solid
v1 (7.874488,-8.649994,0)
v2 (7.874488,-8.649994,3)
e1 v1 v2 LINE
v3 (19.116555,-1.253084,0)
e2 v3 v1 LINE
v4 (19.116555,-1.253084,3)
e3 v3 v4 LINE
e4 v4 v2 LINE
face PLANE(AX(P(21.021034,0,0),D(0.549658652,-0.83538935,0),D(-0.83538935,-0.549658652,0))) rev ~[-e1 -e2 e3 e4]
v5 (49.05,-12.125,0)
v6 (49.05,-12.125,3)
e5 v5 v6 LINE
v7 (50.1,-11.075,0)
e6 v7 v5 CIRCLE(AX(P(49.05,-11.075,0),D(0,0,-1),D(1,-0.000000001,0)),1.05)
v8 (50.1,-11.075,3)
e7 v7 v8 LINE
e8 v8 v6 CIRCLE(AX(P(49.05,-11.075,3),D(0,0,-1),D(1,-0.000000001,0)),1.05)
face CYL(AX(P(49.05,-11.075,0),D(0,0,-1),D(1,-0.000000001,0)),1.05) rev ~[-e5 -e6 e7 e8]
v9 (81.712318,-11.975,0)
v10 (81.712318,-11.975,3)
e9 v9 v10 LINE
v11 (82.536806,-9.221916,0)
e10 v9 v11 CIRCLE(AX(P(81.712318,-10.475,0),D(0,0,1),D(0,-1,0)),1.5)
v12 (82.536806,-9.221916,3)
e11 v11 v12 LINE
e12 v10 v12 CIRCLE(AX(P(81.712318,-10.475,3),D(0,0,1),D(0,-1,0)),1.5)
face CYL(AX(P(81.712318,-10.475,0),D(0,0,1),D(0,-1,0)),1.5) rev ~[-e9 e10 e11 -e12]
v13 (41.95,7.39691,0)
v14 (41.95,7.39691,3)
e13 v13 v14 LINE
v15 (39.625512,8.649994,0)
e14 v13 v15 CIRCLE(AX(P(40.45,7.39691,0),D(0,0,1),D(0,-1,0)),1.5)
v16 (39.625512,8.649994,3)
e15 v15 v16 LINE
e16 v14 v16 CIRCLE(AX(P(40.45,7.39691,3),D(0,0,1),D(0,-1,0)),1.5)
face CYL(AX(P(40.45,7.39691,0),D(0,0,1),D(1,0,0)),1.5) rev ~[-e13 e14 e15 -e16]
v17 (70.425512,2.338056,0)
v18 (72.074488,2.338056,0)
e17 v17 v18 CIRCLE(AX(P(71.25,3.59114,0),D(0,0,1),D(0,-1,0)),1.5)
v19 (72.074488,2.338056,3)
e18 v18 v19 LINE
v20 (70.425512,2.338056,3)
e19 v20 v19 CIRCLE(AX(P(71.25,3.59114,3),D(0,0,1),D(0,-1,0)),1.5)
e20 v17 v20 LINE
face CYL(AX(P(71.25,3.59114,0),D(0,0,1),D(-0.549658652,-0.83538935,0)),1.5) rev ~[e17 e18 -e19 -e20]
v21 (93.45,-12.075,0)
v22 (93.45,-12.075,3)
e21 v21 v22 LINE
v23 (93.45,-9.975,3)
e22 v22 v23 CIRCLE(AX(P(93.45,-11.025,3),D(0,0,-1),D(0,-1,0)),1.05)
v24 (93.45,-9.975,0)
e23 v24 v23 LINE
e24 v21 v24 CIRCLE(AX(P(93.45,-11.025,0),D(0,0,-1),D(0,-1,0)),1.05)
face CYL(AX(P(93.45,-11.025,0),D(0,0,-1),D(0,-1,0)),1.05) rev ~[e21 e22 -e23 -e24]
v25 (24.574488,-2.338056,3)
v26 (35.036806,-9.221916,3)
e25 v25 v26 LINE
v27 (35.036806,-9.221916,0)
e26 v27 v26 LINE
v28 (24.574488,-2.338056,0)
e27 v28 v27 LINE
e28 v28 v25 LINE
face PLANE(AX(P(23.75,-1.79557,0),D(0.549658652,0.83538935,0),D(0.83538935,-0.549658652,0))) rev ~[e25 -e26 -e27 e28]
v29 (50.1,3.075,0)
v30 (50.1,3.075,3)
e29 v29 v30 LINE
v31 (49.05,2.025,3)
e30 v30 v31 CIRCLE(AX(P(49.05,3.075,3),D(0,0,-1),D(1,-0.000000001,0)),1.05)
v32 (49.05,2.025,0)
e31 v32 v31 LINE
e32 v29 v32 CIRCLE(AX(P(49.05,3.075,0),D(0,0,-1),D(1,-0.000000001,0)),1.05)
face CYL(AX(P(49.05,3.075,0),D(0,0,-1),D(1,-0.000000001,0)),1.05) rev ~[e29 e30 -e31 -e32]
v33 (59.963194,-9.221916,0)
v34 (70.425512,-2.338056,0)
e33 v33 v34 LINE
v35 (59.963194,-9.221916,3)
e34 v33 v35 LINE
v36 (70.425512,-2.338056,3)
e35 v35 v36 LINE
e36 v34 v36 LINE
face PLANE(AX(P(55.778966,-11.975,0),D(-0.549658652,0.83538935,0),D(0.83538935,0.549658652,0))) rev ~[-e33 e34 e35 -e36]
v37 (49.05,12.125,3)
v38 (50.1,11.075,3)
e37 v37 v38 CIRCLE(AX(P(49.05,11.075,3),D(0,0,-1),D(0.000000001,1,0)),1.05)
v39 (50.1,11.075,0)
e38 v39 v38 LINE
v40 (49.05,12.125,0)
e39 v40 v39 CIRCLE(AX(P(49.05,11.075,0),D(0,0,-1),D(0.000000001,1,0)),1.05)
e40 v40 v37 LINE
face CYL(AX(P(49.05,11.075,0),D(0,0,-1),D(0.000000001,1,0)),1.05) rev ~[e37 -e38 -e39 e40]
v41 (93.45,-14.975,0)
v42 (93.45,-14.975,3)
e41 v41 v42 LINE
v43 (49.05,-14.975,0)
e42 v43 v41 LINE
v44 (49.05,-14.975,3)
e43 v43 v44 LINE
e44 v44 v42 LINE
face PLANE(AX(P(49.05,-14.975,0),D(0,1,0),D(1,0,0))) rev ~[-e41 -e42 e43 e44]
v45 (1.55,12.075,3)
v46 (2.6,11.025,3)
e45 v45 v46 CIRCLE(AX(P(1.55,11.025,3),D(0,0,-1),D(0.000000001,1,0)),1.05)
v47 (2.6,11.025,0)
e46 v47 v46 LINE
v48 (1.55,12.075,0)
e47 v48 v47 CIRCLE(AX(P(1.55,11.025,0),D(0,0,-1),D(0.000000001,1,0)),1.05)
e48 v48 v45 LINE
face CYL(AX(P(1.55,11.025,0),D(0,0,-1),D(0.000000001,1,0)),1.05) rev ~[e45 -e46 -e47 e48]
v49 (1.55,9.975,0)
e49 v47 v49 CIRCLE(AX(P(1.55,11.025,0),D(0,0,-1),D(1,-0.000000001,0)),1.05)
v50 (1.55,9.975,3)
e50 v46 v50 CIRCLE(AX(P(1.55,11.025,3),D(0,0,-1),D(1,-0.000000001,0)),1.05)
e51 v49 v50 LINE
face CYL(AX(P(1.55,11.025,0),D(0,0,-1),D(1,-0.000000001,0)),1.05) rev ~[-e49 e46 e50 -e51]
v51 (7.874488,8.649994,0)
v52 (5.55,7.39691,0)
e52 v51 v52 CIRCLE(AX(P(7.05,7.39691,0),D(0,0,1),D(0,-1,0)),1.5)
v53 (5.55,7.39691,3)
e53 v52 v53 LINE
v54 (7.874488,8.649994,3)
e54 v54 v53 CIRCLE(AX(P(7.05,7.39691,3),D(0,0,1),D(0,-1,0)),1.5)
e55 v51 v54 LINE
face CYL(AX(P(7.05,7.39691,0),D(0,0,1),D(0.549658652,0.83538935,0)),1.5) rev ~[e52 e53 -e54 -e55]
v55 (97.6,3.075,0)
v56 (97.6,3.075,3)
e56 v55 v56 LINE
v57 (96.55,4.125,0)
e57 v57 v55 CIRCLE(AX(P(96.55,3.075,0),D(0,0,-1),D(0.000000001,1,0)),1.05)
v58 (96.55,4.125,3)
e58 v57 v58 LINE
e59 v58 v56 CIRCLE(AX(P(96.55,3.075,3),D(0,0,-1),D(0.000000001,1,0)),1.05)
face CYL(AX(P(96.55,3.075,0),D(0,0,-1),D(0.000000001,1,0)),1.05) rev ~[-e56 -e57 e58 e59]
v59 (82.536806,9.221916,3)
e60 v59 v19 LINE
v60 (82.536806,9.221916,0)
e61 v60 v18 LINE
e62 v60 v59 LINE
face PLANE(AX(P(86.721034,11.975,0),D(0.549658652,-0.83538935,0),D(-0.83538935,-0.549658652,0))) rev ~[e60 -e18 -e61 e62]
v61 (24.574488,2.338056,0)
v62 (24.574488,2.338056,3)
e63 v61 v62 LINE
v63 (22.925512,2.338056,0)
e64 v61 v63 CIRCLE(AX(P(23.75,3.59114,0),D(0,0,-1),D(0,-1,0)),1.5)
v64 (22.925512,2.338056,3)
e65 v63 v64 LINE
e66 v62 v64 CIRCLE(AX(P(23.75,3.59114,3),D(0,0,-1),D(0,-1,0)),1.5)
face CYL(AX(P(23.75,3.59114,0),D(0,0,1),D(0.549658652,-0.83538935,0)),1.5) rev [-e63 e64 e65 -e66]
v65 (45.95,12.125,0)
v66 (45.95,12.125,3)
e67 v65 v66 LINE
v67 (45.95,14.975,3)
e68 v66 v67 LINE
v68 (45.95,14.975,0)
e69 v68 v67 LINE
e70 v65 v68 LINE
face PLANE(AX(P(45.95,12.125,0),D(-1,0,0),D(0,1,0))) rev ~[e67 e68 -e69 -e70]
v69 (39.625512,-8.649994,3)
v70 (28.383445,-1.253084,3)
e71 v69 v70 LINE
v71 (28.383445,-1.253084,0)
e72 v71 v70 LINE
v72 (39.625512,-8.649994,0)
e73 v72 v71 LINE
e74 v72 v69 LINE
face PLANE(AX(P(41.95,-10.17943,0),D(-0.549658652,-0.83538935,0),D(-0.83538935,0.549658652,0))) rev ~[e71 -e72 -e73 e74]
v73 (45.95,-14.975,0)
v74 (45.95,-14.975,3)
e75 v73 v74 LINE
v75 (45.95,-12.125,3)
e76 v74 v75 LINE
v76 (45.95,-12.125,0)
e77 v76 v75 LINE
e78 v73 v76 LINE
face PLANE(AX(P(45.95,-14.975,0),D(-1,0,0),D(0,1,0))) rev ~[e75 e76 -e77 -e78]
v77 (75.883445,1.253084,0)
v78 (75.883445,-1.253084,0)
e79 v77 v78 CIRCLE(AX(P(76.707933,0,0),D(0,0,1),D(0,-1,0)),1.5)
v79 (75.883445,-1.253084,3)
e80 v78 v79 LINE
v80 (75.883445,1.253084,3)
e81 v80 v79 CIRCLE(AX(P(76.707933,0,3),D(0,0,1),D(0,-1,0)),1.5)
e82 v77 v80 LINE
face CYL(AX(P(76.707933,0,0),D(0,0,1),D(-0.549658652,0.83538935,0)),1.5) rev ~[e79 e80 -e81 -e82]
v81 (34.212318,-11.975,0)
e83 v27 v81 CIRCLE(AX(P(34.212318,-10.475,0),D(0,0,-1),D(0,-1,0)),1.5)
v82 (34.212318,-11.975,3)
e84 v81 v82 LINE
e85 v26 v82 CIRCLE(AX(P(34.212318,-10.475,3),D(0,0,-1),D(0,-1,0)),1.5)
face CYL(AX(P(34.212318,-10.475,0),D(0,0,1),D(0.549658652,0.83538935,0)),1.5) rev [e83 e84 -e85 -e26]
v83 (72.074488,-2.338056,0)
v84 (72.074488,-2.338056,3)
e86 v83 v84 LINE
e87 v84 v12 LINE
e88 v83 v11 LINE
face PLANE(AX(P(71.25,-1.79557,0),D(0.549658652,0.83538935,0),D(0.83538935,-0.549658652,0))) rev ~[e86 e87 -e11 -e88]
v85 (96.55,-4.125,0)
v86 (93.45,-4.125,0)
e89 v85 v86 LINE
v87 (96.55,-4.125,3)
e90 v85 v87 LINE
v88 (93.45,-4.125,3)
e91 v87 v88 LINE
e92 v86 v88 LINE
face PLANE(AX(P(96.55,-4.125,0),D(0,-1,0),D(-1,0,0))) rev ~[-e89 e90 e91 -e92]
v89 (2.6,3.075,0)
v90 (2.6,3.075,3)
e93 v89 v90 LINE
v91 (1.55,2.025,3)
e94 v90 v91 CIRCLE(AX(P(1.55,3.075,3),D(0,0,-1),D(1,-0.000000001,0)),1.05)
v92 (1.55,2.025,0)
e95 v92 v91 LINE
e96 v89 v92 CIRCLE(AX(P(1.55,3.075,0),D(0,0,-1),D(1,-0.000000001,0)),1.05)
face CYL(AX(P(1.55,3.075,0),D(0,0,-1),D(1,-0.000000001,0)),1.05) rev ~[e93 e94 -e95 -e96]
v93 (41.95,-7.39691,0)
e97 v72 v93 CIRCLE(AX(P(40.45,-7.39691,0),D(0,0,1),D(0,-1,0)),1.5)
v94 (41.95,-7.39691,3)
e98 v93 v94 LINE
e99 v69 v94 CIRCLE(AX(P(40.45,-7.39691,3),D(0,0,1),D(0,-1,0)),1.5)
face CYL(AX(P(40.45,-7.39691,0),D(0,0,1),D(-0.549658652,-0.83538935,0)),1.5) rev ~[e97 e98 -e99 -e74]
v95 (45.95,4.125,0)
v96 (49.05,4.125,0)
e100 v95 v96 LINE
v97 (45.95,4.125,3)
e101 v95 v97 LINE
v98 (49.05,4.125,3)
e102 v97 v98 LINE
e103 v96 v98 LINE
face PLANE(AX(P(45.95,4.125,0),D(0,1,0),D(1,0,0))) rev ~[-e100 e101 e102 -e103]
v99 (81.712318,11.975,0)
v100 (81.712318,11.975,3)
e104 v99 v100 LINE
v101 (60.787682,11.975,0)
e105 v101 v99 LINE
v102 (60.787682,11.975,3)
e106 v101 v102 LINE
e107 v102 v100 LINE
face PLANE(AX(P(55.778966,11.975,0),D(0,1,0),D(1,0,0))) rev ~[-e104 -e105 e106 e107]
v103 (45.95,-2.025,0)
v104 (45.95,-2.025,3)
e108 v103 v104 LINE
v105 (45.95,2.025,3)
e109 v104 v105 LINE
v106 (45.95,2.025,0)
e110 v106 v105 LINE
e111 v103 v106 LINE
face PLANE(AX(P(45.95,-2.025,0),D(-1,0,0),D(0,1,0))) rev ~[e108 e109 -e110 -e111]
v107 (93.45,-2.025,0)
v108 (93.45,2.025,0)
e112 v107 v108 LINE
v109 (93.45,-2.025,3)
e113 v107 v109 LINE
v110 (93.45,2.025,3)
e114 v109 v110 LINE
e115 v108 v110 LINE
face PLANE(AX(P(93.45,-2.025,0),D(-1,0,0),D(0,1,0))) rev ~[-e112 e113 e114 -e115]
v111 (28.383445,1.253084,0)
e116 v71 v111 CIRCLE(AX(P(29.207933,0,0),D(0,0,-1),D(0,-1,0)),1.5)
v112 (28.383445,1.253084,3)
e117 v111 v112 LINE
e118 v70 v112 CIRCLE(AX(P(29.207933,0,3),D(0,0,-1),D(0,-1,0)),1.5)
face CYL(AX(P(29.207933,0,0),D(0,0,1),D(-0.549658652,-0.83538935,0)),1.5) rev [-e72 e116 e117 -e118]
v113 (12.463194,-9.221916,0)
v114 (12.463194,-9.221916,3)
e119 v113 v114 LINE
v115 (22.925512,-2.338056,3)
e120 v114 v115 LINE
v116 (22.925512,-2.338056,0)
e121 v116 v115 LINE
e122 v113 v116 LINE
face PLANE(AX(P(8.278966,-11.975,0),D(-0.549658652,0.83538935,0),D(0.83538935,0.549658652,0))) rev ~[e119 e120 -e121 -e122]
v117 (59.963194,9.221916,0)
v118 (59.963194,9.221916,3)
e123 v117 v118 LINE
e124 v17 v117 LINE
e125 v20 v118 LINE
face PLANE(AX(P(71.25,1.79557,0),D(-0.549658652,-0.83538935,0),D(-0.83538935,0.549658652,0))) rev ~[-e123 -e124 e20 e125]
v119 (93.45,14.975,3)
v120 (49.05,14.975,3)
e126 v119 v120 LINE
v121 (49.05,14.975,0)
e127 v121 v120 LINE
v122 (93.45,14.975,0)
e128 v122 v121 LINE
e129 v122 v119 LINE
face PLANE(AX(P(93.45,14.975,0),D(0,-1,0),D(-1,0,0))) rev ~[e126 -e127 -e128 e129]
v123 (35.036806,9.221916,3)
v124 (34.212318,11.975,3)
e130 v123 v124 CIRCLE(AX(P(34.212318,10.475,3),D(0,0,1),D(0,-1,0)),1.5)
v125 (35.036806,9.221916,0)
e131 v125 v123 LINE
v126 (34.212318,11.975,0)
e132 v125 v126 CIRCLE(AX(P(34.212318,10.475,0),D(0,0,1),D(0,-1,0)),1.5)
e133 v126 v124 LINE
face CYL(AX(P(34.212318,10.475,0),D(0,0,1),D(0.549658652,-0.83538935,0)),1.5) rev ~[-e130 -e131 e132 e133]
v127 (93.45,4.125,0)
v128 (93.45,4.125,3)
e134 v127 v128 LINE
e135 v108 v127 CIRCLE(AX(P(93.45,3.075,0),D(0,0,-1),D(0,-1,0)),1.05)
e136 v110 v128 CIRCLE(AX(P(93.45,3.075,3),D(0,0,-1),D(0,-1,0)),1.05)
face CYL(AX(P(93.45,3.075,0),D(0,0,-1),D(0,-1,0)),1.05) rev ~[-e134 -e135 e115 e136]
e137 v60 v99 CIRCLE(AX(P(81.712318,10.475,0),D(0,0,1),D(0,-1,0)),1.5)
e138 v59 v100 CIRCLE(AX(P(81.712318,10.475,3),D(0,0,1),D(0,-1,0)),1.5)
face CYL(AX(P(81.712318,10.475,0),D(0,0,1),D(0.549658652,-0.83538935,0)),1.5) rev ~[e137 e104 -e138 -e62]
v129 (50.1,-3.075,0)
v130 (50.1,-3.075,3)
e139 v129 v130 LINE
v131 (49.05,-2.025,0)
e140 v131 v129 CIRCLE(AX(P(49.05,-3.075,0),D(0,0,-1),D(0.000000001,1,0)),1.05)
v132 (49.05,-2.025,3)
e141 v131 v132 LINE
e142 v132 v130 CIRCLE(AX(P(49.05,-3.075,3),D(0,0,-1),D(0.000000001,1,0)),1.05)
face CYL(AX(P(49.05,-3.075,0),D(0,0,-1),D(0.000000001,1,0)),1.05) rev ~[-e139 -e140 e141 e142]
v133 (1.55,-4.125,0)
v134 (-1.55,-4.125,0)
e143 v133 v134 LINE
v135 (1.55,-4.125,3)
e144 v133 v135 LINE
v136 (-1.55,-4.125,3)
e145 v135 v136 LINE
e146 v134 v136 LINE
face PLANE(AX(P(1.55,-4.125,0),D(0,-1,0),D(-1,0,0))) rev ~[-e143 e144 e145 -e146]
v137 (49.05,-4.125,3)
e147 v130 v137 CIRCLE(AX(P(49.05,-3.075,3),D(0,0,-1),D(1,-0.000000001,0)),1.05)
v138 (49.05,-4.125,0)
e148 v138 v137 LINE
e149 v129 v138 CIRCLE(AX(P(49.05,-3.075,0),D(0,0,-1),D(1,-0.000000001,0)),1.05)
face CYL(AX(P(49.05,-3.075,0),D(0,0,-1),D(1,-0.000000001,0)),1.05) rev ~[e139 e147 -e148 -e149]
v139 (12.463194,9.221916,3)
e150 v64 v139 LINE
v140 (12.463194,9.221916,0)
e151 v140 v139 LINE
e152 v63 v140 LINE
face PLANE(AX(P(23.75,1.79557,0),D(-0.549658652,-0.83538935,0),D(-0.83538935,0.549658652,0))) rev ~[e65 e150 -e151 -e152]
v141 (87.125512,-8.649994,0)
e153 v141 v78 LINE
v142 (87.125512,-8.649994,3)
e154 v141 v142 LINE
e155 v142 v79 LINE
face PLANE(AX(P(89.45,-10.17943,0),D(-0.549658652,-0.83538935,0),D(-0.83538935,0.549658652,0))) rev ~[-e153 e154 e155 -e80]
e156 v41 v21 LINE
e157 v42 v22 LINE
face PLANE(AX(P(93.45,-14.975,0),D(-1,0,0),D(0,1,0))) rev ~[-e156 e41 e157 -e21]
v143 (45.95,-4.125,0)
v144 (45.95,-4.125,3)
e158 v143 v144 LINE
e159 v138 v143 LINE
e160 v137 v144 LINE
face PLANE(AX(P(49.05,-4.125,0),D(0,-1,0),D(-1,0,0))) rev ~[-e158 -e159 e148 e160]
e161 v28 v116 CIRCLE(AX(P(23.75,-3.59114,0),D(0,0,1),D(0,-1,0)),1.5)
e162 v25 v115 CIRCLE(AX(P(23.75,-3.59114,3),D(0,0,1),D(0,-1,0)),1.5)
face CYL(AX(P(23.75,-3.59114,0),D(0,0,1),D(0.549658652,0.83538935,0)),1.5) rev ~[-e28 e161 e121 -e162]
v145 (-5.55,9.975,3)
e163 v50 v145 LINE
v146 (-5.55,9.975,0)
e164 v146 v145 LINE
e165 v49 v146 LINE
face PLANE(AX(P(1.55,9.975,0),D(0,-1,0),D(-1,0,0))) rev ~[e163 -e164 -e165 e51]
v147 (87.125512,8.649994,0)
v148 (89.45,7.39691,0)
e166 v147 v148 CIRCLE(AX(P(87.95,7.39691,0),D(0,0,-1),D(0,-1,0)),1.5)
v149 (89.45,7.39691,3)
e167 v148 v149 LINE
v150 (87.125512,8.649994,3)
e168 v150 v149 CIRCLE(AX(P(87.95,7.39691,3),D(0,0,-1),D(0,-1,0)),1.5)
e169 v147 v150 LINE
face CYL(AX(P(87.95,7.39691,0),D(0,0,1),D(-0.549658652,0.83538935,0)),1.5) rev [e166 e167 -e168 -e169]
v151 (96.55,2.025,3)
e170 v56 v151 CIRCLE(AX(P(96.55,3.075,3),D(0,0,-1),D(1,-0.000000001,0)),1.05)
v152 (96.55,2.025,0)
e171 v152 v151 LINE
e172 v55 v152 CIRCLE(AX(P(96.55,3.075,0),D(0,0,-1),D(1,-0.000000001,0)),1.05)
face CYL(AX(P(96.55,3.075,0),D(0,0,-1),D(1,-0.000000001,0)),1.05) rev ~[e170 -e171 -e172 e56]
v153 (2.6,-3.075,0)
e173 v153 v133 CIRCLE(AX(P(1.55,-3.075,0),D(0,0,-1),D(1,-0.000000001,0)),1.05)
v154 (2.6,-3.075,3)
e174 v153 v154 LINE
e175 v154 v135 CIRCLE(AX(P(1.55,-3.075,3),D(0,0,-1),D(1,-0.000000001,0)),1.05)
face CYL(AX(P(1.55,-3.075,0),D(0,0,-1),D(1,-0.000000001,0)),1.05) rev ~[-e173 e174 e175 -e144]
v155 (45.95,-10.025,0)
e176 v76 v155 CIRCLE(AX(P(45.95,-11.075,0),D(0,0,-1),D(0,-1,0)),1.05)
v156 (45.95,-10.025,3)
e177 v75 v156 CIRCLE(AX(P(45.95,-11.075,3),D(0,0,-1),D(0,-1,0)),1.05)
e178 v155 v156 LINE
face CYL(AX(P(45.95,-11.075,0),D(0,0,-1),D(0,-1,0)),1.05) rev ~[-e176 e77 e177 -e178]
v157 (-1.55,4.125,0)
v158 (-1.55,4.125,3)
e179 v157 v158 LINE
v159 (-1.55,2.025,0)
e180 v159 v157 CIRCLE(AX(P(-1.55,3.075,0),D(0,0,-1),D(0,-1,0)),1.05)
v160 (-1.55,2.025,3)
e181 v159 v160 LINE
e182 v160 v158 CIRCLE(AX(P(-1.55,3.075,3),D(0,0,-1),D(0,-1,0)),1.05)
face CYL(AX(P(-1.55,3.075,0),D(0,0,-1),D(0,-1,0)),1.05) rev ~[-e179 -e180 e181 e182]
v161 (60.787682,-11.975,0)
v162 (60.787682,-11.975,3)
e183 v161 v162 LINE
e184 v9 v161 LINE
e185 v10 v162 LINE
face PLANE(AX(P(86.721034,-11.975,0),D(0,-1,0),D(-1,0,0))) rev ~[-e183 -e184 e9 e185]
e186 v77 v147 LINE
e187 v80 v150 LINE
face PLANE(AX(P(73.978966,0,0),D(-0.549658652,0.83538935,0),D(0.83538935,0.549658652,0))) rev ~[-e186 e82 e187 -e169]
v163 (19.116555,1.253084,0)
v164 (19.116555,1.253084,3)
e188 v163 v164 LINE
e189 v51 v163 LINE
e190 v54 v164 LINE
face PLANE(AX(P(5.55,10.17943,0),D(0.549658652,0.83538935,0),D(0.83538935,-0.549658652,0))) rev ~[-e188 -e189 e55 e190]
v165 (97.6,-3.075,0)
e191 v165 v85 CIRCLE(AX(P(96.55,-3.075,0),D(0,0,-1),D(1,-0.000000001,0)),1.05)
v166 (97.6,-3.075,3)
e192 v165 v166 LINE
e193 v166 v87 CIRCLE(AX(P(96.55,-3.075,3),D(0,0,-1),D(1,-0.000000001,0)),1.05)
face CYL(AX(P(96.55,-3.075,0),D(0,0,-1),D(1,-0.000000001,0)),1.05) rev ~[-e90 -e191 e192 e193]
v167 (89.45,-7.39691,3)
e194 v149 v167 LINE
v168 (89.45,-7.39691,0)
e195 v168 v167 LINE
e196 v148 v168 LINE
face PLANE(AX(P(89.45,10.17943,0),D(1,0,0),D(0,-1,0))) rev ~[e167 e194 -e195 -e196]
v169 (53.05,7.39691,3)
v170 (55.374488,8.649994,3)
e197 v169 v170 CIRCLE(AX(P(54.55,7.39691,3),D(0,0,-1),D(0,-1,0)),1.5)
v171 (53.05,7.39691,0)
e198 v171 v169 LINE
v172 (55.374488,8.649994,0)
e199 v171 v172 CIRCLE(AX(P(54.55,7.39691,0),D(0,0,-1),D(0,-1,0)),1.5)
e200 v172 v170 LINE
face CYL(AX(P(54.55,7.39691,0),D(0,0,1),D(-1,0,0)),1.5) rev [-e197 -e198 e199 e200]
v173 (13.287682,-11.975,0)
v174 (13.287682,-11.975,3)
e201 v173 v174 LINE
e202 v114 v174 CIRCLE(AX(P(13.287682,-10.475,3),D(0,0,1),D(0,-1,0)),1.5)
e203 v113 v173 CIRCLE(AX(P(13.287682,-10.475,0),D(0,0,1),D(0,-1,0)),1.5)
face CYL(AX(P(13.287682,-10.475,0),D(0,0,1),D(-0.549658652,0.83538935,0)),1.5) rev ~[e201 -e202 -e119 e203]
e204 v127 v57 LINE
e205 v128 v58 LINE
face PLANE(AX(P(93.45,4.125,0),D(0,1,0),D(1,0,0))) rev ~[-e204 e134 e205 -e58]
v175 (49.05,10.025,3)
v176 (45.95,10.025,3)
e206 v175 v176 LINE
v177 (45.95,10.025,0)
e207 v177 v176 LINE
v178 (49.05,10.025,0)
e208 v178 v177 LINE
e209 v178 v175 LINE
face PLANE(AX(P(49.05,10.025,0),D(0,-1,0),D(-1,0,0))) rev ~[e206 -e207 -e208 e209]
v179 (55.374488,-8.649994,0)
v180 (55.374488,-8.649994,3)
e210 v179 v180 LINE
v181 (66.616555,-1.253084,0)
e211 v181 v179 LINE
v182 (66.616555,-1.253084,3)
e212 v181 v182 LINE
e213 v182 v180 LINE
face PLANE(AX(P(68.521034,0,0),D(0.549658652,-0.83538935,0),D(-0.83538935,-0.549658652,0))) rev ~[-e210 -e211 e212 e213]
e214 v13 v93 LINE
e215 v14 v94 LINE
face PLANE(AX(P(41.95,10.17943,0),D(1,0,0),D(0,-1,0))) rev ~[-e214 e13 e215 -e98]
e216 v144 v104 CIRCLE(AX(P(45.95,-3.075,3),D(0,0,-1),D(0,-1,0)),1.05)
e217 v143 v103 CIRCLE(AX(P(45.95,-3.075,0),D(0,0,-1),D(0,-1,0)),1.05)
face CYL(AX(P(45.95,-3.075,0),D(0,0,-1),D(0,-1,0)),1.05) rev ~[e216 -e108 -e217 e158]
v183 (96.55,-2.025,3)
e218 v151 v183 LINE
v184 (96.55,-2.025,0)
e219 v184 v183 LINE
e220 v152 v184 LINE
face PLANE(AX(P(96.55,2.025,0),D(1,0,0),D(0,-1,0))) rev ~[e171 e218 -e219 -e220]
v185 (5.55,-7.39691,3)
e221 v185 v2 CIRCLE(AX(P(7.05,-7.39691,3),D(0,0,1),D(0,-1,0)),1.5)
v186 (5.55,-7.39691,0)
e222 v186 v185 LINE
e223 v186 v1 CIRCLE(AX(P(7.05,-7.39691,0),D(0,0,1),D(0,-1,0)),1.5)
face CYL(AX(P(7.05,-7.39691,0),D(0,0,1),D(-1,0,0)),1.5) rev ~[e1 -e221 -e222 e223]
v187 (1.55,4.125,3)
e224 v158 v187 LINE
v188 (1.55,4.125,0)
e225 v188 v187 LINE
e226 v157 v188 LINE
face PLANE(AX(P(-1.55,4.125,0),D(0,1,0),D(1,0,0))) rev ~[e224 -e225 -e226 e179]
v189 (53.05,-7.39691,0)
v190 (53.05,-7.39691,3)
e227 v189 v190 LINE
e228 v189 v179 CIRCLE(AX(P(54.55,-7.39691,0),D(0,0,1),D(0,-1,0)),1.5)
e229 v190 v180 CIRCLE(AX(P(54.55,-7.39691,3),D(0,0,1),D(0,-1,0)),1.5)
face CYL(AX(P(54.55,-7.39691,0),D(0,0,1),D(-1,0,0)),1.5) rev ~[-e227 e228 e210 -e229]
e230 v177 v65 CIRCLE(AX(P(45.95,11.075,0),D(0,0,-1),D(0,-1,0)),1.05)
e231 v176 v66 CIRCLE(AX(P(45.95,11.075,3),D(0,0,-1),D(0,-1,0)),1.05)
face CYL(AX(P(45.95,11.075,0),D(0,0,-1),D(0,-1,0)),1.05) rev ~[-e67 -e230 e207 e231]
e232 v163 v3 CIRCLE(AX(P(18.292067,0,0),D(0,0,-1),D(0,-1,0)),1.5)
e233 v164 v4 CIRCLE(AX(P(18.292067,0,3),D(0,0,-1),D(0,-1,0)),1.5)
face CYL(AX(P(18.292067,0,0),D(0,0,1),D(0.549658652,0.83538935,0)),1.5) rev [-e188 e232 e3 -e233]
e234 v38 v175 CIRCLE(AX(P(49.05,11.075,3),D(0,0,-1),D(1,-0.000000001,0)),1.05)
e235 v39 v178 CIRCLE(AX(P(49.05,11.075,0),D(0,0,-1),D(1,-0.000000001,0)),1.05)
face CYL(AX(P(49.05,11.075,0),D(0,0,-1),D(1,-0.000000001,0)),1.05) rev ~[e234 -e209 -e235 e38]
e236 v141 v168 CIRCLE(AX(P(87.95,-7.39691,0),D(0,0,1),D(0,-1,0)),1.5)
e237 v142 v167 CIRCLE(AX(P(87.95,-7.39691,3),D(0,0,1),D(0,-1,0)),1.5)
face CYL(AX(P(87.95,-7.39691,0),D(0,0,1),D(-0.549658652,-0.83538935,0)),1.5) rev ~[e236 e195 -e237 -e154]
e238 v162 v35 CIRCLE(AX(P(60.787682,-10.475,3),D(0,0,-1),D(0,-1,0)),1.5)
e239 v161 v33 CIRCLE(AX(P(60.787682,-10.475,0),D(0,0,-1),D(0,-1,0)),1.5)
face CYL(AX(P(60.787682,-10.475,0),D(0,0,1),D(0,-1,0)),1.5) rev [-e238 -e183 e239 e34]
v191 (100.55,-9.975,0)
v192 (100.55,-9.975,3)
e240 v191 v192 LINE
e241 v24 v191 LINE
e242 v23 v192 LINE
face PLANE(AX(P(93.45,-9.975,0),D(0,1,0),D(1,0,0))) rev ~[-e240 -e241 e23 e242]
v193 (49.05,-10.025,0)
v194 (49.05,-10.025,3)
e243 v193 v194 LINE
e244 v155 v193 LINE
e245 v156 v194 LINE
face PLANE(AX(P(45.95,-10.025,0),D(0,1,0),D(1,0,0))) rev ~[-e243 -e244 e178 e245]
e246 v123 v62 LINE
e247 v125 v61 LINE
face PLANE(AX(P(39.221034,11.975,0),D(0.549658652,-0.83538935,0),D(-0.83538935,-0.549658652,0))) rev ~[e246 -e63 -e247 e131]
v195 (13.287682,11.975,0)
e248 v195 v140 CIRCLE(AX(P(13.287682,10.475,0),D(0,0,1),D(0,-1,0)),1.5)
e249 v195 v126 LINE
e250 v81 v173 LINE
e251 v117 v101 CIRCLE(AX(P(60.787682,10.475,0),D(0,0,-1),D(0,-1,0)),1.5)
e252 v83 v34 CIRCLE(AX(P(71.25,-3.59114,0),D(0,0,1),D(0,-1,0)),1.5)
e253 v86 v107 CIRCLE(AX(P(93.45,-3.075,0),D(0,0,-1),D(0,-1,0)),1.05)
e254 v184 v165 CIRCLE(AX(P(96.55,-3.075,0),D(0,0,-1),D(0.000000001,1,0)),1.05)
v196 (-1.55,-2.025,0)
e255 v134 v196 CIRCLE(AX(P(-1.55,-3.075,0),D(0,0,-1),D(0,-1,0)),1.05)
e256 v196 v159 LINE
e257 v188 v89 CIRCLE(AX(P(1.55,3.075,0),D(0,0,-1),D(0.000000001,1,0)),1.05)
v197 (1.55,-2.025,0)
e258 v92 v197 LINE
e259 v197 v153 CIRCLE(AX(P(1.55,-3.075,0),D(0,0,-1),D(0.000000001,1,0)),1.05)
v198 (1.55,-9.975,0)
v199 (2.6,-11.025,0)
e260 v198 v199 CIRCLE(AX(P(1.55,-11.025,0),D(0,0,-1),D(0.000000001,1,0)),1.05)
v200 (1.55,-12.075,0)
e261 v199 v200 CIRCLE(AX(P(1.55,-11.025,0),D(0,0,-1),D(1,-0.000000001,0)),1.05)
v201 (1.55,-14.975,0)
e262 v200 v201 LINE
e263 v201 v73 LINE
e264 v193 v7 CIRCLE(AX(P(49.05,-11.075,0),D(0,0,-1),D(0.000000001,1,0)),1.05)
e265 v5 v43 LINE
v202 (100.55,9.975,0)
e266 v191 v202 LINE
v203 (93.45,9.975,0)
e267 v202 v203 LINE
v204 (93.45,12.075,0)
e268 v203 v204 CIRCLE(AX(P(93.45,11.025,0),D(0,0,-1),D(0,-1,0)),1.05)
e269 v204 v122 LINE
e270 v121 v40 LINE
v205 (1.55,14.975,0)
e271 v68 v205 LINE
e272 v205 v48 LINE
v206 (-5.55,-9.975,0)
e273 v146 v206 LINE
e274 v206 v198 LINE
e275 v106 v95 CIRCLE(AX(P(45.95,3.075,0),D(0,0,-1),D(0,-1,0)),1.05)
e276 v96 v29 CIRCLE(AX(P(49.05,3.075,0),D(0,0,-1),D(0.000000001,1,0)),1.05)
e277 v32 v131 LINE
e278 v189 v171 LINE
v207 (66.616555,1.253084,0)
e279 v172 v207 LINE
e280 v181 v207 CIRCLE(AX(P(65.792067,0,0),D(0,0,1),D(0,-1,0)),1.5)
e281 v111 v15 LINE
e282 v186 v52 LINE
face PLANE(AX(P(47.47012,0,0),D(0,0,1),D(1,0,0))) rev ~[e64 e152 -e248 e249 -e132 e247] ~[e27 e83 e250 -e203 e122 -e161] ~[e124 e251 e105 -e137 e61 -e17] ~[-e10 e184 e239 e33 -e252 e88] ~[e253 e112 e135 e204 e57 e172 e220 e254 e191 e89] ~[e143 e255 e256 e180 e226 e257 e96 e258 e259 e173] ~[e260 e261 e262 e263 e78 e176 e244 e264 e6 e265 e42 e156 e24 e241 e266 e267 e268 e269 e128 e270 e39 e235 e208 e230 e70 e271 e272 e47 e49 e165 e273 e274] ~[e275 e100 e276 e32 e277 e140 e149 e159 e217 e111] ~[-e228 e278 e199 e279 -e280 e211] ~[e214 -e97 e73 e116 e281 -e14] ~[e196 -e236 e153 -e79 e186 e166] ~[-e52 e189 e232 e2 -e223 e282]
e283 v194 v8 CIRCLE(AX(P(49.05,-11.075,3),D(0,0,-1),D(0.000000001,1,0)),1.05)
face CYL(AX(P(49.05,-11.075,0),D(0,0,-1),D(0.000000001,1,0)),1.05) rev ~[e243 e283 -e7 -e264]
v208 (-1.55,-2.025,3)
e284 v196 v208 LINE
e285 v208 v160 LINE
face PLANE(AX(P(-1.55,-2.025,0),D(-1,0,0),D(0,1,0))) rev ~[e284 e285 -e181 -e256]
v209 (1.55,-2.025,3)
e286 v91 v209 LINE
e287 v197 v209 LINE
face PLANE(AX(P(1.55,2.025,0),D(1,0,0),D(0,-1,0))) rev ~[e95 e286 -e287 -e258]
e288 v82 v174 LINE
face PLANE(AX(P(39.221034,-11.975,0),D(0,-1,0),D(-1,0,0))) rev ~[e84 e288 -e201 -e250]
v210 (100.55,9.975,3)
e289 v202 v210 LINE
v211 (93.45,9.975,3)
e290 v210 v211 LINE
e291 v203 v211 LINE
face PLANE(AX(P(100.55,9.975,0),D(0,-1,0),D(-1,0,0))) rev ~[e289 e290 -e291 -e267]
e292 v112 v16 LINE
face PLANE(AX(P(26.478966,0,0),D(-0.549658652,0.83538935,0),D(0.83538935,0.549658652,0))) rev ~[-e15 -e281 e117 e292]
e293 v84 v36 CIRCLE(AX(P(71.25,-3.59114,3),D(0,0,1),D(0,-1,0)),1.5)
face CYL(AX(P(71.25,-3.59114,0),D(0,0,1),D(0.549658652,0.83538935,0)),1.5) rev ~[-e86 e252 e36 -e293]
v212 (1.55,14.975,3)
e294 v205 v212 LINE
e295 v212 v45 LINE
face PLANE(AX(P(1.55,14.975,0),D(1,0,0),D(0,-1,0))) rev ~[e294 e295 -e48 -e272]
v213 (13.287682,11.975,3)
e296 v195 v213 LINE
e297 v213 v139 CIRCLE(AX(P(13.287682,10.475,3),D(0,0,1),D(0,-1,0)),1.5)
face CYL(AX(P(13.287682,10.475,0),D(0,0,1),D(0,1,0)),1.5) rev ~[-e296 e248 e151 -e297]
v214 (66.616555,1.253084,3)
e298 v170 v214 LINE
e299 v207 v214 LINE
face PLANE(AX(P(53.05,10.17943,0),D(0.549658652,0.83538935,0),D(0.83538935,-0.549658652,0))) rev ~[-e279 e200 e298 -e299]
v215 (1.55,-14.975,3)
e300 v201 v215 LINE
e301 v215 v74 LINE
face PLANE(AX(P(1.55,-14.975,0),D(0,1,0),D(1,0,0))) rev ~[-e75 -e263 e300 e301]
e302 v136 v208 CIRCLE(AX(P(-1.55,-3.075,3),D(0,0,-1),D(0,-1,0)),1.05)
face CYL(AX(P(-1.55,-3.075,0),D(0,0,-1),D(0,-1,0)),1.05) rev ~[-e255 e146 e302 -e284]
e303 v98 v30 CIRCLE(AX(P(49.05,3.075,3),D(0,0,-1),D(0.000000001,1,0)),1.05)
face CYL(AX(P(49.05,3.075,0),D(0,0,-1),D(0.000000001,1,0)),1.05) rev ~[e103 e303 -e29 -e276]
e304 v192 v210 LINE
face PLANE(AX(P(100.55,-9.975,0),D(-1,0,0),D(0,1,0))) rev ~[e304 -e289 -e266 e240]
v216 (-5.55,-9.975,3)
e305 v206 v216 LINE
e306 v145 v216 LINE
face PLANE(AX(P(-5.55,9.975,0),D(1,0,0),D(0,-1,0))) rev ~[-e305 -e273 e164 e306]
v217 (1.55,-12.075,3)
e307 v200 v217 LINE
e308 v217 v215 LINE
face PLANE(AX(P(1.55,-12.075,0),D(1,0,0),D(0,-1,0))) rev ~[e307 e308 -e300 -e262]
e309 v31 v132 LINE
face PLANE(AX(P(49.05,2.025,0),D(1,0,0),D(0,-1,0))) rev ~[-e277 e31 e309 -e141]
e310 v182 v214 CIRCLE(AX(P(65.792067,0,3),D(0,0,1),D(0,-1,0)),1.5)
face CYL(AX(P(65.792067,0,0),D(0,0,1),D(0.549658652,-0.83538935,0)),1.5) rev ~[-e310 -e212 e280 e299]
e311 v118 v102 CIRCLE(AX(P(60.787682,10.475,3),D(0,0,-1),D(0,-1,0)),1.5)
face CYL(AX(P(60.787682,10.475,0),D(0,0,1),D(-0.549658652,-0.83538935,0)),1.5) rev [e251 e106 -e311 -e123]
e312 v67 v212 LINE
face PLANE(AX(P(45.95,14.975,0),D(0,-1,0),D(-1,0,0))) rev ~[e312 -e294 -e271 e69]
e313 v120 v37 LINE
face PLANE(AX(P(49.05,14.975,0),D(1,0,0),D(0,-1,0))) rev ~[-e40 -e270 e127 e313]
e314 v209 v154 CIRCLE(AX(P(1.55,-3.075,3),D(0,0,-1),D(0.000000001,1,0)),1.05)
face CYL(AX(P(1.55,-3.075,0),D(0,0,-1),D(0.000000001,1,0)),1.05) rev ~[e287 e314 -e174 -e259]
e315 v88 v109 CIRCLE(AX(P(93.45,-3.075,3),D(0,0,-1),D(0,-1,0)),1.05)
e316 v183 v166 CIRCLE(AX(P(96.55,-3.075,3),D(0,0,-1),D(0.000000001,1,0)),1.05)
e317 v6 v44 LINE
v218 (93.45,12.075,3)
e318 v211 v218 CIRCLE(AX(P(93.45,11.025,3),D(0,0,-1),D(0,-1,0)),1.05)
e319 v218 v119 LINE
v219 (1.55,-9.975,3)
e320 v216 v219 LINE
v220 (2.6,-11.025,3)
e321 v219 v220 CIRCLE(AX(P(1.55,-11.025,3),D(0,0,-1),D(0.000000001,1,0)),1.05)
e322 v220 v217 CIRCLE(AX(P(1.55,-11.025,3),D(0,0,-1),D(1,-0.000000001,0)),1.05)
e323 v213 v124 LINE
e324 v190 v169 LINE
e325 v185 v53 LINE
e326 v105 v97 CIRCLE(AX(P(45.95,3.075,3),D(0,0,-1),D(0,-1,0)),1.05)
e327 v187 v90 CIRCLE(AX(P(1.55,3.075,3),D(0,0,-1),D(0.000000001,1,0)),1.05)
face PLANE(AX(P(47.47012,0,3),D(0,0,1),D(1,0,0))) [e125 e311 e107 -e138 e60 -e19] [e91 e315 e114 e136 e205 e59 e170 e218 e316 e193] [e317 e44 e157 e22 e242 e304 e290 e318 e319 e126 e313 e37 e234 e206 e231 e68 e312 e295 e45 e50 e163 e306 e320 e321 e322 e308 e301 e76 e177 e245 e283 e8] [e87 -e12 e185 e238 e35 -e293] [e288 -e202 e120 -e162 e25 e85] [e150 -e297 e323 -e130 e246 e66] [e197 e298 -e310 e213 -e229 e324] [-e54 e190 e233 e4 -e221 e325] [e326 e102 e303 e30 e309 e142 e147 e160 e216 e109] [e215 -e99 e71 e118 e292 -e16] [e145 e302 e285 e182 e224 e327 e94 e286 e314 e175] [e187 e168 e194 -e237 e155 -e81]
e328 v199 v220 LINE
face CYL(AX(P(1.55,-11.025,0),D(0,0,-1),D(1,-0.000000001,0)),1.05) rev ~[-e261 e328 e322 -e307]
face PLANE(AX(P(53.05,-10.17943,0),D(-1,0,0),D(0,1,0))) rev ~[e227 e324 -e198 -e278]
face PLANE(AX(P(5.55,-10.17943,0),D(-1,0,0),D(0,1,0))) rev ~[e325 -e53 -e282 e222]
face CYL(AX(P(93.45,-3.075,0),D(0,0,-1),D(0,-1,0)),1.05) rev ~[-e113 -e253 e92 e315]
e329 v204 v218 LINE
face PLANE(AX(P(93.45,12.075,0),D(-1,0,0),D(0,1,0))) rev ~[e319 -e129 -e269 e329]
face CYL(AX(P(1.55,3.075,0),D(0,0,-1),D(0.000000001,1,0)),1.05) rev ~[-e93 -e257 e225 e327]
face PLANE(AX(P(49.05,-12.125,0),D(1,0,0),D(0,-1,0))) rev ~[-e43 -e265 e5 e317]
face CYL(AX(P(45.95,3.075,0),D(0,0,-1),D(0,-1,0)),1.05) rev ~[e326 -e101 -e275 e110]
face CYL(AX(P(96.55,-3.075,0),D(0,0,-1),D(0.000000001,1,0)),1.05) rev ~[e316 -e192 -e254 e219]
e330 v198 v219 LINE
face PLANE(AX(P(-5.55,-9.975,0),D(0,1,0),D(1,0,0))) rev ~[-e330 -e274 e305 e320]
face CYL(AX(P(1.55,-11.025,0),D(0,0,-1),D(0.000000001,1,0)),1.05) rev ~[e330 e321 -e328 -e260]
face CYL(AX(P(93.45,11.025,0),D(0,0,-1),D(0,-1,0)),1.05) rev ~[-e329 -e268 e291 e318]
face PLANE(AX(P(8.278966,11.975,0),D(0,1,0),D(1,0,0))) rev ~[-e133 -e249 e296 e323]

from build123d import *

# Parameters (mm, degrees)
EXTRUDE_1_DEPTH = 3
FILLET_1_R      = 1.5


with BuildPart() as part:
    # 草图1 → 凸台-拉伸1 (new body)
    with BuildSketch(Plane.XY):
        with BuildLine():
            Line((100.55, -9.975), (100.55, 9.975))
            Line((100.55, 9.975), (93.45, 9.975))
            ThreePointArc((93.45, 9.975), (92.4, 11.025), (93.45, 12.075))
            Line((93.45, 12.075), (93.45, 14.975))
            Line((93.45, 14.975), (49.05, 14.975))
            Line((49.05, 14.975), (49.05, 12.125))
            ThreePointArc((49.05, 12.125), (49.79246212, 11.81746212), (50.1, 11.075))
            ThreePointArc((50.1, 11.075), (49.79246212, 10.33253788), (49.05, 10.025))
            Line((49.05, 10.025), (45.95, 10.025))
            ThreePointArc((45.95, 10.025), (44.9, 11.075), (45.95, 12.125))
            Line((45.95, 12.125), (45.95, 14.975))
            Line((45.95, 14.975), (1.55, 14.975))
            Line((1.55, 14.975), (1.55, 12.075))
            ThreePointArc((1.55, 12.075), (2.29246212, 11.76746212), (2.6, 11.025))
            ThreePointArc((2.6, 11.025), (2.29246212, 10.28253788), (1.55, 9.975))
            Line((1.55, 9.975), (-5.55, 9.975))
            Line((-5.55, 9.975), (-5.55, -9.975))
            Line((-5.55, -9.975), (1.55, -9.975))
            ThreePointArc((1.55, -9.975), (2.29246212, -10.28253788), (2.6, -11.025))
            ThreePointArc((2.6, -11.025), (2.29246212, -11.76746212), (1.55, -12.075))
            Line((1.55, -12.075), (1.55, -14.975))
            Line((1.55, -14.975), (45.95, -14.975))
            Line((45.95, -14.975), (45.95, -12.125))
            ThreePointArc((45.95, -12.125), (44.9, -11.075), (45.95, -10.025))
            Line((45.95, -10.025), (49.05, -10.025))
            ThreePointArc((49.05, -10.025), (49.79246212, -10.33253788), (50.1, -11.075))
            ThreePointArc((50.1, -11.075), (49.79246212, -11.81746212), (49.05, -12.125))
            Line((49.05, -12.125), (49.05, -14.975))
            Line((49.05, -14.975), (93.45, -14.975))
            Line((93.45, -14.975), (93.45, -12.075))
            ThreePointArc((93.45, -12.075), (92.4, -11.025), (93.45, -9.975))
            Line((93.45, -9.975), (100.55, -9.975))
        make_face()
        with BuildLine():
            ThreePointArc((2.6, -3.075), (2.29246212, -3.81746212), (1.55, -4.125))
            Line((1.55, -4.125), (-1.55, -4.125))
            ThreePointArc((-1.55, -4.125), (-2.6, -3.075), (-1.55, -2.025))
            Line((-1.55, -2.025), (-1.55, 2.025))
            ThreePointArc((-1.55, 2.025), (-2.6, 3.075), (-1.55, 4.125))
            Line((-1.55, 4.125), (1.55, 4.125))
            ThreePointArc((1.55, 4.125), (2.29246212, 3.81746212), (2.6, 3.075))
            ThreePointArc((2.6, 3.075), (2.29246212, 2.33253788), (1.55, 2.025))
            Line((1.55, 2.025), (1.55, -2.025))
            ThreePointArc((1.55, -2.025), (2.29246212, -2.33253788), (2.6, -3.075))
        make_face(mode=Mode.SUBTRACT)
        Polygon((39.221033587, -11.975), (8.278966413, -11.975), (23.75, -1.795569934), align=None, mode=Mode.SUBTRACT)
        Polygon((26.478966413, 0), (41.95, 10.179430066), (41.95, -10.179430066), align=None, mode=Mode.SUBTRACT)
        with BuildLine():
            ThreePointArc((50.1, -3.075), (49.79246212, -3.81746212), (49.05, -4.125))
            Line((49.05, -4.125), (45.95, -4.125))
            ThreePointArc((45.95, -4.125), (44.9, -3.075), (45.95, -2.025))
            Line((45.95, -2.025), (45.95, 2.025))
            ThreePointArc((45.95, 2.025), (44.9, 3.075), (45.95, 4.125))
            Line((45.95, 4.125), (49.05, 4.125))
            ThreePointArc((49.05, 4.125), (49.79246212, 3.81746212), (50.1, 3.075))
            ThreePointArc((50.1, 3.075), (49.79246212, 2.33253788), (49.05, 2.025))
            Line((49.05, 2.025), (49.05, -2.025))
            ThreePointArc((49.05, -2.025), (49.79246212, -2.33253788), (50.1, -3.075))
        make_face(mode=Mode.SUBTRACT)
        Polygon((55.778966413, -11.975), (71.25, -1.795569934), (86.721033587, -11.975), align=None, mode=Mode.SUBTRACT)
        Polygon((53.05, 10.179430066), (68.521033587, 0), (53.05, -10.179430066), align=None, mode=Mode.SUBTRACT)
        with BuildLine():
            ThreePointArc((97.6, -3.075), (97.29246212, -3.81746212), (96.55, -4.125))
            Line((96.55, -4.125), (93.45, -4.125))
            ThreePointArc((93.45, -4.125), (92.4, -3.075), (93.45, -2.025))
            Line((93.45, -2.025), (93.45, 2.025))
            ThreePointArc((93.45, 2.025), (92.4, 3.075), (93.45, 4.125))
            Line((93.45, 4.125), (96.55, 4.125))
            ThreePointArc((96.55, 4.125), (97.29246212, 3.81746212), (97.6, 3.075))
            ThreePointArc((97.6, 3.075), (97.29246212, 2.33253788), (96.55, 2.025))
            Line((96.55, 2.025), (96.55, -2.025))
            ThreePointArc((96.55, -2.025), (97.29246212, -2.33253788), (97.6, -3.075))
        make_face(mode=Mode.SUBTRACT)
        Polygon((21.021033587, 0), (5.55, -10.179430066), (5.55, 10.179430066), align=None, mode=Mode.SUBTRACT)
        Polygon((23.75, 1.795569934), (8.278966413, 11.975), (39.221033587, 11.975), align=None, mode=Mode.SUBTRACT)
        Polygon((55.778966413, 11.975), (86.721033587, 11.975), (71.25, 1.795569934), align=None, mode=Mode.SUBTRACT)
        Polygon((89.45, 10.179430066), (89.45, -10.179430066), (73.978966413, 0), align=None, mode=Mode.SUBTRACT)
    extrude(amount=EXTRUDE_1_DEPTH)

    # 圆角1
    fillet_1_edges = [part.edges().sort_by_distance(p)[0] for p in [
        (55.778966413, 11.975, 1.5),
        (71.25, 1.795569934, 1.5),
        (86.721033587, 11.975, 1.5),
        (8.278966413, -11.975, 1.5),
        (39.221033587, -11.975, 1.5),
        (23.75, -1.795569934, 1.5),
        (41.95, -10.179430066, 1.5),
        (41.95, 10.179430066, 1.5),
        (26.478966413, 0, 1.5),
        (21.021033587, 0, 1.5),
        (5.55, 10.179430066, 1.5),
        (5.55, -10.179430066, 1.5),
        (39.221033587, 11.975, 1.5),
        (8.278966413, 11.975, 1.5),
        (23.75, 1.795569934, 1.5),
        (53.05, -10.179430066, 1.5),
        (68.521033587, 0, 1.5),
        (53.05, 10.179430066, 1.5),
        (86.721033587, -11.975, 1.5),
        (71.25, -1.795569934, 1.5),
        (55.778966413, -11.975, 1.5),
        (73.978966413, 0, 1.5),
        (89.45, -10.179430066, 1.5),
        (89.45, 10.179430066, 1.5),
    ]]
    fillet(fillet_1_edges, radius=FILLET_1_R)


solid = part.part
